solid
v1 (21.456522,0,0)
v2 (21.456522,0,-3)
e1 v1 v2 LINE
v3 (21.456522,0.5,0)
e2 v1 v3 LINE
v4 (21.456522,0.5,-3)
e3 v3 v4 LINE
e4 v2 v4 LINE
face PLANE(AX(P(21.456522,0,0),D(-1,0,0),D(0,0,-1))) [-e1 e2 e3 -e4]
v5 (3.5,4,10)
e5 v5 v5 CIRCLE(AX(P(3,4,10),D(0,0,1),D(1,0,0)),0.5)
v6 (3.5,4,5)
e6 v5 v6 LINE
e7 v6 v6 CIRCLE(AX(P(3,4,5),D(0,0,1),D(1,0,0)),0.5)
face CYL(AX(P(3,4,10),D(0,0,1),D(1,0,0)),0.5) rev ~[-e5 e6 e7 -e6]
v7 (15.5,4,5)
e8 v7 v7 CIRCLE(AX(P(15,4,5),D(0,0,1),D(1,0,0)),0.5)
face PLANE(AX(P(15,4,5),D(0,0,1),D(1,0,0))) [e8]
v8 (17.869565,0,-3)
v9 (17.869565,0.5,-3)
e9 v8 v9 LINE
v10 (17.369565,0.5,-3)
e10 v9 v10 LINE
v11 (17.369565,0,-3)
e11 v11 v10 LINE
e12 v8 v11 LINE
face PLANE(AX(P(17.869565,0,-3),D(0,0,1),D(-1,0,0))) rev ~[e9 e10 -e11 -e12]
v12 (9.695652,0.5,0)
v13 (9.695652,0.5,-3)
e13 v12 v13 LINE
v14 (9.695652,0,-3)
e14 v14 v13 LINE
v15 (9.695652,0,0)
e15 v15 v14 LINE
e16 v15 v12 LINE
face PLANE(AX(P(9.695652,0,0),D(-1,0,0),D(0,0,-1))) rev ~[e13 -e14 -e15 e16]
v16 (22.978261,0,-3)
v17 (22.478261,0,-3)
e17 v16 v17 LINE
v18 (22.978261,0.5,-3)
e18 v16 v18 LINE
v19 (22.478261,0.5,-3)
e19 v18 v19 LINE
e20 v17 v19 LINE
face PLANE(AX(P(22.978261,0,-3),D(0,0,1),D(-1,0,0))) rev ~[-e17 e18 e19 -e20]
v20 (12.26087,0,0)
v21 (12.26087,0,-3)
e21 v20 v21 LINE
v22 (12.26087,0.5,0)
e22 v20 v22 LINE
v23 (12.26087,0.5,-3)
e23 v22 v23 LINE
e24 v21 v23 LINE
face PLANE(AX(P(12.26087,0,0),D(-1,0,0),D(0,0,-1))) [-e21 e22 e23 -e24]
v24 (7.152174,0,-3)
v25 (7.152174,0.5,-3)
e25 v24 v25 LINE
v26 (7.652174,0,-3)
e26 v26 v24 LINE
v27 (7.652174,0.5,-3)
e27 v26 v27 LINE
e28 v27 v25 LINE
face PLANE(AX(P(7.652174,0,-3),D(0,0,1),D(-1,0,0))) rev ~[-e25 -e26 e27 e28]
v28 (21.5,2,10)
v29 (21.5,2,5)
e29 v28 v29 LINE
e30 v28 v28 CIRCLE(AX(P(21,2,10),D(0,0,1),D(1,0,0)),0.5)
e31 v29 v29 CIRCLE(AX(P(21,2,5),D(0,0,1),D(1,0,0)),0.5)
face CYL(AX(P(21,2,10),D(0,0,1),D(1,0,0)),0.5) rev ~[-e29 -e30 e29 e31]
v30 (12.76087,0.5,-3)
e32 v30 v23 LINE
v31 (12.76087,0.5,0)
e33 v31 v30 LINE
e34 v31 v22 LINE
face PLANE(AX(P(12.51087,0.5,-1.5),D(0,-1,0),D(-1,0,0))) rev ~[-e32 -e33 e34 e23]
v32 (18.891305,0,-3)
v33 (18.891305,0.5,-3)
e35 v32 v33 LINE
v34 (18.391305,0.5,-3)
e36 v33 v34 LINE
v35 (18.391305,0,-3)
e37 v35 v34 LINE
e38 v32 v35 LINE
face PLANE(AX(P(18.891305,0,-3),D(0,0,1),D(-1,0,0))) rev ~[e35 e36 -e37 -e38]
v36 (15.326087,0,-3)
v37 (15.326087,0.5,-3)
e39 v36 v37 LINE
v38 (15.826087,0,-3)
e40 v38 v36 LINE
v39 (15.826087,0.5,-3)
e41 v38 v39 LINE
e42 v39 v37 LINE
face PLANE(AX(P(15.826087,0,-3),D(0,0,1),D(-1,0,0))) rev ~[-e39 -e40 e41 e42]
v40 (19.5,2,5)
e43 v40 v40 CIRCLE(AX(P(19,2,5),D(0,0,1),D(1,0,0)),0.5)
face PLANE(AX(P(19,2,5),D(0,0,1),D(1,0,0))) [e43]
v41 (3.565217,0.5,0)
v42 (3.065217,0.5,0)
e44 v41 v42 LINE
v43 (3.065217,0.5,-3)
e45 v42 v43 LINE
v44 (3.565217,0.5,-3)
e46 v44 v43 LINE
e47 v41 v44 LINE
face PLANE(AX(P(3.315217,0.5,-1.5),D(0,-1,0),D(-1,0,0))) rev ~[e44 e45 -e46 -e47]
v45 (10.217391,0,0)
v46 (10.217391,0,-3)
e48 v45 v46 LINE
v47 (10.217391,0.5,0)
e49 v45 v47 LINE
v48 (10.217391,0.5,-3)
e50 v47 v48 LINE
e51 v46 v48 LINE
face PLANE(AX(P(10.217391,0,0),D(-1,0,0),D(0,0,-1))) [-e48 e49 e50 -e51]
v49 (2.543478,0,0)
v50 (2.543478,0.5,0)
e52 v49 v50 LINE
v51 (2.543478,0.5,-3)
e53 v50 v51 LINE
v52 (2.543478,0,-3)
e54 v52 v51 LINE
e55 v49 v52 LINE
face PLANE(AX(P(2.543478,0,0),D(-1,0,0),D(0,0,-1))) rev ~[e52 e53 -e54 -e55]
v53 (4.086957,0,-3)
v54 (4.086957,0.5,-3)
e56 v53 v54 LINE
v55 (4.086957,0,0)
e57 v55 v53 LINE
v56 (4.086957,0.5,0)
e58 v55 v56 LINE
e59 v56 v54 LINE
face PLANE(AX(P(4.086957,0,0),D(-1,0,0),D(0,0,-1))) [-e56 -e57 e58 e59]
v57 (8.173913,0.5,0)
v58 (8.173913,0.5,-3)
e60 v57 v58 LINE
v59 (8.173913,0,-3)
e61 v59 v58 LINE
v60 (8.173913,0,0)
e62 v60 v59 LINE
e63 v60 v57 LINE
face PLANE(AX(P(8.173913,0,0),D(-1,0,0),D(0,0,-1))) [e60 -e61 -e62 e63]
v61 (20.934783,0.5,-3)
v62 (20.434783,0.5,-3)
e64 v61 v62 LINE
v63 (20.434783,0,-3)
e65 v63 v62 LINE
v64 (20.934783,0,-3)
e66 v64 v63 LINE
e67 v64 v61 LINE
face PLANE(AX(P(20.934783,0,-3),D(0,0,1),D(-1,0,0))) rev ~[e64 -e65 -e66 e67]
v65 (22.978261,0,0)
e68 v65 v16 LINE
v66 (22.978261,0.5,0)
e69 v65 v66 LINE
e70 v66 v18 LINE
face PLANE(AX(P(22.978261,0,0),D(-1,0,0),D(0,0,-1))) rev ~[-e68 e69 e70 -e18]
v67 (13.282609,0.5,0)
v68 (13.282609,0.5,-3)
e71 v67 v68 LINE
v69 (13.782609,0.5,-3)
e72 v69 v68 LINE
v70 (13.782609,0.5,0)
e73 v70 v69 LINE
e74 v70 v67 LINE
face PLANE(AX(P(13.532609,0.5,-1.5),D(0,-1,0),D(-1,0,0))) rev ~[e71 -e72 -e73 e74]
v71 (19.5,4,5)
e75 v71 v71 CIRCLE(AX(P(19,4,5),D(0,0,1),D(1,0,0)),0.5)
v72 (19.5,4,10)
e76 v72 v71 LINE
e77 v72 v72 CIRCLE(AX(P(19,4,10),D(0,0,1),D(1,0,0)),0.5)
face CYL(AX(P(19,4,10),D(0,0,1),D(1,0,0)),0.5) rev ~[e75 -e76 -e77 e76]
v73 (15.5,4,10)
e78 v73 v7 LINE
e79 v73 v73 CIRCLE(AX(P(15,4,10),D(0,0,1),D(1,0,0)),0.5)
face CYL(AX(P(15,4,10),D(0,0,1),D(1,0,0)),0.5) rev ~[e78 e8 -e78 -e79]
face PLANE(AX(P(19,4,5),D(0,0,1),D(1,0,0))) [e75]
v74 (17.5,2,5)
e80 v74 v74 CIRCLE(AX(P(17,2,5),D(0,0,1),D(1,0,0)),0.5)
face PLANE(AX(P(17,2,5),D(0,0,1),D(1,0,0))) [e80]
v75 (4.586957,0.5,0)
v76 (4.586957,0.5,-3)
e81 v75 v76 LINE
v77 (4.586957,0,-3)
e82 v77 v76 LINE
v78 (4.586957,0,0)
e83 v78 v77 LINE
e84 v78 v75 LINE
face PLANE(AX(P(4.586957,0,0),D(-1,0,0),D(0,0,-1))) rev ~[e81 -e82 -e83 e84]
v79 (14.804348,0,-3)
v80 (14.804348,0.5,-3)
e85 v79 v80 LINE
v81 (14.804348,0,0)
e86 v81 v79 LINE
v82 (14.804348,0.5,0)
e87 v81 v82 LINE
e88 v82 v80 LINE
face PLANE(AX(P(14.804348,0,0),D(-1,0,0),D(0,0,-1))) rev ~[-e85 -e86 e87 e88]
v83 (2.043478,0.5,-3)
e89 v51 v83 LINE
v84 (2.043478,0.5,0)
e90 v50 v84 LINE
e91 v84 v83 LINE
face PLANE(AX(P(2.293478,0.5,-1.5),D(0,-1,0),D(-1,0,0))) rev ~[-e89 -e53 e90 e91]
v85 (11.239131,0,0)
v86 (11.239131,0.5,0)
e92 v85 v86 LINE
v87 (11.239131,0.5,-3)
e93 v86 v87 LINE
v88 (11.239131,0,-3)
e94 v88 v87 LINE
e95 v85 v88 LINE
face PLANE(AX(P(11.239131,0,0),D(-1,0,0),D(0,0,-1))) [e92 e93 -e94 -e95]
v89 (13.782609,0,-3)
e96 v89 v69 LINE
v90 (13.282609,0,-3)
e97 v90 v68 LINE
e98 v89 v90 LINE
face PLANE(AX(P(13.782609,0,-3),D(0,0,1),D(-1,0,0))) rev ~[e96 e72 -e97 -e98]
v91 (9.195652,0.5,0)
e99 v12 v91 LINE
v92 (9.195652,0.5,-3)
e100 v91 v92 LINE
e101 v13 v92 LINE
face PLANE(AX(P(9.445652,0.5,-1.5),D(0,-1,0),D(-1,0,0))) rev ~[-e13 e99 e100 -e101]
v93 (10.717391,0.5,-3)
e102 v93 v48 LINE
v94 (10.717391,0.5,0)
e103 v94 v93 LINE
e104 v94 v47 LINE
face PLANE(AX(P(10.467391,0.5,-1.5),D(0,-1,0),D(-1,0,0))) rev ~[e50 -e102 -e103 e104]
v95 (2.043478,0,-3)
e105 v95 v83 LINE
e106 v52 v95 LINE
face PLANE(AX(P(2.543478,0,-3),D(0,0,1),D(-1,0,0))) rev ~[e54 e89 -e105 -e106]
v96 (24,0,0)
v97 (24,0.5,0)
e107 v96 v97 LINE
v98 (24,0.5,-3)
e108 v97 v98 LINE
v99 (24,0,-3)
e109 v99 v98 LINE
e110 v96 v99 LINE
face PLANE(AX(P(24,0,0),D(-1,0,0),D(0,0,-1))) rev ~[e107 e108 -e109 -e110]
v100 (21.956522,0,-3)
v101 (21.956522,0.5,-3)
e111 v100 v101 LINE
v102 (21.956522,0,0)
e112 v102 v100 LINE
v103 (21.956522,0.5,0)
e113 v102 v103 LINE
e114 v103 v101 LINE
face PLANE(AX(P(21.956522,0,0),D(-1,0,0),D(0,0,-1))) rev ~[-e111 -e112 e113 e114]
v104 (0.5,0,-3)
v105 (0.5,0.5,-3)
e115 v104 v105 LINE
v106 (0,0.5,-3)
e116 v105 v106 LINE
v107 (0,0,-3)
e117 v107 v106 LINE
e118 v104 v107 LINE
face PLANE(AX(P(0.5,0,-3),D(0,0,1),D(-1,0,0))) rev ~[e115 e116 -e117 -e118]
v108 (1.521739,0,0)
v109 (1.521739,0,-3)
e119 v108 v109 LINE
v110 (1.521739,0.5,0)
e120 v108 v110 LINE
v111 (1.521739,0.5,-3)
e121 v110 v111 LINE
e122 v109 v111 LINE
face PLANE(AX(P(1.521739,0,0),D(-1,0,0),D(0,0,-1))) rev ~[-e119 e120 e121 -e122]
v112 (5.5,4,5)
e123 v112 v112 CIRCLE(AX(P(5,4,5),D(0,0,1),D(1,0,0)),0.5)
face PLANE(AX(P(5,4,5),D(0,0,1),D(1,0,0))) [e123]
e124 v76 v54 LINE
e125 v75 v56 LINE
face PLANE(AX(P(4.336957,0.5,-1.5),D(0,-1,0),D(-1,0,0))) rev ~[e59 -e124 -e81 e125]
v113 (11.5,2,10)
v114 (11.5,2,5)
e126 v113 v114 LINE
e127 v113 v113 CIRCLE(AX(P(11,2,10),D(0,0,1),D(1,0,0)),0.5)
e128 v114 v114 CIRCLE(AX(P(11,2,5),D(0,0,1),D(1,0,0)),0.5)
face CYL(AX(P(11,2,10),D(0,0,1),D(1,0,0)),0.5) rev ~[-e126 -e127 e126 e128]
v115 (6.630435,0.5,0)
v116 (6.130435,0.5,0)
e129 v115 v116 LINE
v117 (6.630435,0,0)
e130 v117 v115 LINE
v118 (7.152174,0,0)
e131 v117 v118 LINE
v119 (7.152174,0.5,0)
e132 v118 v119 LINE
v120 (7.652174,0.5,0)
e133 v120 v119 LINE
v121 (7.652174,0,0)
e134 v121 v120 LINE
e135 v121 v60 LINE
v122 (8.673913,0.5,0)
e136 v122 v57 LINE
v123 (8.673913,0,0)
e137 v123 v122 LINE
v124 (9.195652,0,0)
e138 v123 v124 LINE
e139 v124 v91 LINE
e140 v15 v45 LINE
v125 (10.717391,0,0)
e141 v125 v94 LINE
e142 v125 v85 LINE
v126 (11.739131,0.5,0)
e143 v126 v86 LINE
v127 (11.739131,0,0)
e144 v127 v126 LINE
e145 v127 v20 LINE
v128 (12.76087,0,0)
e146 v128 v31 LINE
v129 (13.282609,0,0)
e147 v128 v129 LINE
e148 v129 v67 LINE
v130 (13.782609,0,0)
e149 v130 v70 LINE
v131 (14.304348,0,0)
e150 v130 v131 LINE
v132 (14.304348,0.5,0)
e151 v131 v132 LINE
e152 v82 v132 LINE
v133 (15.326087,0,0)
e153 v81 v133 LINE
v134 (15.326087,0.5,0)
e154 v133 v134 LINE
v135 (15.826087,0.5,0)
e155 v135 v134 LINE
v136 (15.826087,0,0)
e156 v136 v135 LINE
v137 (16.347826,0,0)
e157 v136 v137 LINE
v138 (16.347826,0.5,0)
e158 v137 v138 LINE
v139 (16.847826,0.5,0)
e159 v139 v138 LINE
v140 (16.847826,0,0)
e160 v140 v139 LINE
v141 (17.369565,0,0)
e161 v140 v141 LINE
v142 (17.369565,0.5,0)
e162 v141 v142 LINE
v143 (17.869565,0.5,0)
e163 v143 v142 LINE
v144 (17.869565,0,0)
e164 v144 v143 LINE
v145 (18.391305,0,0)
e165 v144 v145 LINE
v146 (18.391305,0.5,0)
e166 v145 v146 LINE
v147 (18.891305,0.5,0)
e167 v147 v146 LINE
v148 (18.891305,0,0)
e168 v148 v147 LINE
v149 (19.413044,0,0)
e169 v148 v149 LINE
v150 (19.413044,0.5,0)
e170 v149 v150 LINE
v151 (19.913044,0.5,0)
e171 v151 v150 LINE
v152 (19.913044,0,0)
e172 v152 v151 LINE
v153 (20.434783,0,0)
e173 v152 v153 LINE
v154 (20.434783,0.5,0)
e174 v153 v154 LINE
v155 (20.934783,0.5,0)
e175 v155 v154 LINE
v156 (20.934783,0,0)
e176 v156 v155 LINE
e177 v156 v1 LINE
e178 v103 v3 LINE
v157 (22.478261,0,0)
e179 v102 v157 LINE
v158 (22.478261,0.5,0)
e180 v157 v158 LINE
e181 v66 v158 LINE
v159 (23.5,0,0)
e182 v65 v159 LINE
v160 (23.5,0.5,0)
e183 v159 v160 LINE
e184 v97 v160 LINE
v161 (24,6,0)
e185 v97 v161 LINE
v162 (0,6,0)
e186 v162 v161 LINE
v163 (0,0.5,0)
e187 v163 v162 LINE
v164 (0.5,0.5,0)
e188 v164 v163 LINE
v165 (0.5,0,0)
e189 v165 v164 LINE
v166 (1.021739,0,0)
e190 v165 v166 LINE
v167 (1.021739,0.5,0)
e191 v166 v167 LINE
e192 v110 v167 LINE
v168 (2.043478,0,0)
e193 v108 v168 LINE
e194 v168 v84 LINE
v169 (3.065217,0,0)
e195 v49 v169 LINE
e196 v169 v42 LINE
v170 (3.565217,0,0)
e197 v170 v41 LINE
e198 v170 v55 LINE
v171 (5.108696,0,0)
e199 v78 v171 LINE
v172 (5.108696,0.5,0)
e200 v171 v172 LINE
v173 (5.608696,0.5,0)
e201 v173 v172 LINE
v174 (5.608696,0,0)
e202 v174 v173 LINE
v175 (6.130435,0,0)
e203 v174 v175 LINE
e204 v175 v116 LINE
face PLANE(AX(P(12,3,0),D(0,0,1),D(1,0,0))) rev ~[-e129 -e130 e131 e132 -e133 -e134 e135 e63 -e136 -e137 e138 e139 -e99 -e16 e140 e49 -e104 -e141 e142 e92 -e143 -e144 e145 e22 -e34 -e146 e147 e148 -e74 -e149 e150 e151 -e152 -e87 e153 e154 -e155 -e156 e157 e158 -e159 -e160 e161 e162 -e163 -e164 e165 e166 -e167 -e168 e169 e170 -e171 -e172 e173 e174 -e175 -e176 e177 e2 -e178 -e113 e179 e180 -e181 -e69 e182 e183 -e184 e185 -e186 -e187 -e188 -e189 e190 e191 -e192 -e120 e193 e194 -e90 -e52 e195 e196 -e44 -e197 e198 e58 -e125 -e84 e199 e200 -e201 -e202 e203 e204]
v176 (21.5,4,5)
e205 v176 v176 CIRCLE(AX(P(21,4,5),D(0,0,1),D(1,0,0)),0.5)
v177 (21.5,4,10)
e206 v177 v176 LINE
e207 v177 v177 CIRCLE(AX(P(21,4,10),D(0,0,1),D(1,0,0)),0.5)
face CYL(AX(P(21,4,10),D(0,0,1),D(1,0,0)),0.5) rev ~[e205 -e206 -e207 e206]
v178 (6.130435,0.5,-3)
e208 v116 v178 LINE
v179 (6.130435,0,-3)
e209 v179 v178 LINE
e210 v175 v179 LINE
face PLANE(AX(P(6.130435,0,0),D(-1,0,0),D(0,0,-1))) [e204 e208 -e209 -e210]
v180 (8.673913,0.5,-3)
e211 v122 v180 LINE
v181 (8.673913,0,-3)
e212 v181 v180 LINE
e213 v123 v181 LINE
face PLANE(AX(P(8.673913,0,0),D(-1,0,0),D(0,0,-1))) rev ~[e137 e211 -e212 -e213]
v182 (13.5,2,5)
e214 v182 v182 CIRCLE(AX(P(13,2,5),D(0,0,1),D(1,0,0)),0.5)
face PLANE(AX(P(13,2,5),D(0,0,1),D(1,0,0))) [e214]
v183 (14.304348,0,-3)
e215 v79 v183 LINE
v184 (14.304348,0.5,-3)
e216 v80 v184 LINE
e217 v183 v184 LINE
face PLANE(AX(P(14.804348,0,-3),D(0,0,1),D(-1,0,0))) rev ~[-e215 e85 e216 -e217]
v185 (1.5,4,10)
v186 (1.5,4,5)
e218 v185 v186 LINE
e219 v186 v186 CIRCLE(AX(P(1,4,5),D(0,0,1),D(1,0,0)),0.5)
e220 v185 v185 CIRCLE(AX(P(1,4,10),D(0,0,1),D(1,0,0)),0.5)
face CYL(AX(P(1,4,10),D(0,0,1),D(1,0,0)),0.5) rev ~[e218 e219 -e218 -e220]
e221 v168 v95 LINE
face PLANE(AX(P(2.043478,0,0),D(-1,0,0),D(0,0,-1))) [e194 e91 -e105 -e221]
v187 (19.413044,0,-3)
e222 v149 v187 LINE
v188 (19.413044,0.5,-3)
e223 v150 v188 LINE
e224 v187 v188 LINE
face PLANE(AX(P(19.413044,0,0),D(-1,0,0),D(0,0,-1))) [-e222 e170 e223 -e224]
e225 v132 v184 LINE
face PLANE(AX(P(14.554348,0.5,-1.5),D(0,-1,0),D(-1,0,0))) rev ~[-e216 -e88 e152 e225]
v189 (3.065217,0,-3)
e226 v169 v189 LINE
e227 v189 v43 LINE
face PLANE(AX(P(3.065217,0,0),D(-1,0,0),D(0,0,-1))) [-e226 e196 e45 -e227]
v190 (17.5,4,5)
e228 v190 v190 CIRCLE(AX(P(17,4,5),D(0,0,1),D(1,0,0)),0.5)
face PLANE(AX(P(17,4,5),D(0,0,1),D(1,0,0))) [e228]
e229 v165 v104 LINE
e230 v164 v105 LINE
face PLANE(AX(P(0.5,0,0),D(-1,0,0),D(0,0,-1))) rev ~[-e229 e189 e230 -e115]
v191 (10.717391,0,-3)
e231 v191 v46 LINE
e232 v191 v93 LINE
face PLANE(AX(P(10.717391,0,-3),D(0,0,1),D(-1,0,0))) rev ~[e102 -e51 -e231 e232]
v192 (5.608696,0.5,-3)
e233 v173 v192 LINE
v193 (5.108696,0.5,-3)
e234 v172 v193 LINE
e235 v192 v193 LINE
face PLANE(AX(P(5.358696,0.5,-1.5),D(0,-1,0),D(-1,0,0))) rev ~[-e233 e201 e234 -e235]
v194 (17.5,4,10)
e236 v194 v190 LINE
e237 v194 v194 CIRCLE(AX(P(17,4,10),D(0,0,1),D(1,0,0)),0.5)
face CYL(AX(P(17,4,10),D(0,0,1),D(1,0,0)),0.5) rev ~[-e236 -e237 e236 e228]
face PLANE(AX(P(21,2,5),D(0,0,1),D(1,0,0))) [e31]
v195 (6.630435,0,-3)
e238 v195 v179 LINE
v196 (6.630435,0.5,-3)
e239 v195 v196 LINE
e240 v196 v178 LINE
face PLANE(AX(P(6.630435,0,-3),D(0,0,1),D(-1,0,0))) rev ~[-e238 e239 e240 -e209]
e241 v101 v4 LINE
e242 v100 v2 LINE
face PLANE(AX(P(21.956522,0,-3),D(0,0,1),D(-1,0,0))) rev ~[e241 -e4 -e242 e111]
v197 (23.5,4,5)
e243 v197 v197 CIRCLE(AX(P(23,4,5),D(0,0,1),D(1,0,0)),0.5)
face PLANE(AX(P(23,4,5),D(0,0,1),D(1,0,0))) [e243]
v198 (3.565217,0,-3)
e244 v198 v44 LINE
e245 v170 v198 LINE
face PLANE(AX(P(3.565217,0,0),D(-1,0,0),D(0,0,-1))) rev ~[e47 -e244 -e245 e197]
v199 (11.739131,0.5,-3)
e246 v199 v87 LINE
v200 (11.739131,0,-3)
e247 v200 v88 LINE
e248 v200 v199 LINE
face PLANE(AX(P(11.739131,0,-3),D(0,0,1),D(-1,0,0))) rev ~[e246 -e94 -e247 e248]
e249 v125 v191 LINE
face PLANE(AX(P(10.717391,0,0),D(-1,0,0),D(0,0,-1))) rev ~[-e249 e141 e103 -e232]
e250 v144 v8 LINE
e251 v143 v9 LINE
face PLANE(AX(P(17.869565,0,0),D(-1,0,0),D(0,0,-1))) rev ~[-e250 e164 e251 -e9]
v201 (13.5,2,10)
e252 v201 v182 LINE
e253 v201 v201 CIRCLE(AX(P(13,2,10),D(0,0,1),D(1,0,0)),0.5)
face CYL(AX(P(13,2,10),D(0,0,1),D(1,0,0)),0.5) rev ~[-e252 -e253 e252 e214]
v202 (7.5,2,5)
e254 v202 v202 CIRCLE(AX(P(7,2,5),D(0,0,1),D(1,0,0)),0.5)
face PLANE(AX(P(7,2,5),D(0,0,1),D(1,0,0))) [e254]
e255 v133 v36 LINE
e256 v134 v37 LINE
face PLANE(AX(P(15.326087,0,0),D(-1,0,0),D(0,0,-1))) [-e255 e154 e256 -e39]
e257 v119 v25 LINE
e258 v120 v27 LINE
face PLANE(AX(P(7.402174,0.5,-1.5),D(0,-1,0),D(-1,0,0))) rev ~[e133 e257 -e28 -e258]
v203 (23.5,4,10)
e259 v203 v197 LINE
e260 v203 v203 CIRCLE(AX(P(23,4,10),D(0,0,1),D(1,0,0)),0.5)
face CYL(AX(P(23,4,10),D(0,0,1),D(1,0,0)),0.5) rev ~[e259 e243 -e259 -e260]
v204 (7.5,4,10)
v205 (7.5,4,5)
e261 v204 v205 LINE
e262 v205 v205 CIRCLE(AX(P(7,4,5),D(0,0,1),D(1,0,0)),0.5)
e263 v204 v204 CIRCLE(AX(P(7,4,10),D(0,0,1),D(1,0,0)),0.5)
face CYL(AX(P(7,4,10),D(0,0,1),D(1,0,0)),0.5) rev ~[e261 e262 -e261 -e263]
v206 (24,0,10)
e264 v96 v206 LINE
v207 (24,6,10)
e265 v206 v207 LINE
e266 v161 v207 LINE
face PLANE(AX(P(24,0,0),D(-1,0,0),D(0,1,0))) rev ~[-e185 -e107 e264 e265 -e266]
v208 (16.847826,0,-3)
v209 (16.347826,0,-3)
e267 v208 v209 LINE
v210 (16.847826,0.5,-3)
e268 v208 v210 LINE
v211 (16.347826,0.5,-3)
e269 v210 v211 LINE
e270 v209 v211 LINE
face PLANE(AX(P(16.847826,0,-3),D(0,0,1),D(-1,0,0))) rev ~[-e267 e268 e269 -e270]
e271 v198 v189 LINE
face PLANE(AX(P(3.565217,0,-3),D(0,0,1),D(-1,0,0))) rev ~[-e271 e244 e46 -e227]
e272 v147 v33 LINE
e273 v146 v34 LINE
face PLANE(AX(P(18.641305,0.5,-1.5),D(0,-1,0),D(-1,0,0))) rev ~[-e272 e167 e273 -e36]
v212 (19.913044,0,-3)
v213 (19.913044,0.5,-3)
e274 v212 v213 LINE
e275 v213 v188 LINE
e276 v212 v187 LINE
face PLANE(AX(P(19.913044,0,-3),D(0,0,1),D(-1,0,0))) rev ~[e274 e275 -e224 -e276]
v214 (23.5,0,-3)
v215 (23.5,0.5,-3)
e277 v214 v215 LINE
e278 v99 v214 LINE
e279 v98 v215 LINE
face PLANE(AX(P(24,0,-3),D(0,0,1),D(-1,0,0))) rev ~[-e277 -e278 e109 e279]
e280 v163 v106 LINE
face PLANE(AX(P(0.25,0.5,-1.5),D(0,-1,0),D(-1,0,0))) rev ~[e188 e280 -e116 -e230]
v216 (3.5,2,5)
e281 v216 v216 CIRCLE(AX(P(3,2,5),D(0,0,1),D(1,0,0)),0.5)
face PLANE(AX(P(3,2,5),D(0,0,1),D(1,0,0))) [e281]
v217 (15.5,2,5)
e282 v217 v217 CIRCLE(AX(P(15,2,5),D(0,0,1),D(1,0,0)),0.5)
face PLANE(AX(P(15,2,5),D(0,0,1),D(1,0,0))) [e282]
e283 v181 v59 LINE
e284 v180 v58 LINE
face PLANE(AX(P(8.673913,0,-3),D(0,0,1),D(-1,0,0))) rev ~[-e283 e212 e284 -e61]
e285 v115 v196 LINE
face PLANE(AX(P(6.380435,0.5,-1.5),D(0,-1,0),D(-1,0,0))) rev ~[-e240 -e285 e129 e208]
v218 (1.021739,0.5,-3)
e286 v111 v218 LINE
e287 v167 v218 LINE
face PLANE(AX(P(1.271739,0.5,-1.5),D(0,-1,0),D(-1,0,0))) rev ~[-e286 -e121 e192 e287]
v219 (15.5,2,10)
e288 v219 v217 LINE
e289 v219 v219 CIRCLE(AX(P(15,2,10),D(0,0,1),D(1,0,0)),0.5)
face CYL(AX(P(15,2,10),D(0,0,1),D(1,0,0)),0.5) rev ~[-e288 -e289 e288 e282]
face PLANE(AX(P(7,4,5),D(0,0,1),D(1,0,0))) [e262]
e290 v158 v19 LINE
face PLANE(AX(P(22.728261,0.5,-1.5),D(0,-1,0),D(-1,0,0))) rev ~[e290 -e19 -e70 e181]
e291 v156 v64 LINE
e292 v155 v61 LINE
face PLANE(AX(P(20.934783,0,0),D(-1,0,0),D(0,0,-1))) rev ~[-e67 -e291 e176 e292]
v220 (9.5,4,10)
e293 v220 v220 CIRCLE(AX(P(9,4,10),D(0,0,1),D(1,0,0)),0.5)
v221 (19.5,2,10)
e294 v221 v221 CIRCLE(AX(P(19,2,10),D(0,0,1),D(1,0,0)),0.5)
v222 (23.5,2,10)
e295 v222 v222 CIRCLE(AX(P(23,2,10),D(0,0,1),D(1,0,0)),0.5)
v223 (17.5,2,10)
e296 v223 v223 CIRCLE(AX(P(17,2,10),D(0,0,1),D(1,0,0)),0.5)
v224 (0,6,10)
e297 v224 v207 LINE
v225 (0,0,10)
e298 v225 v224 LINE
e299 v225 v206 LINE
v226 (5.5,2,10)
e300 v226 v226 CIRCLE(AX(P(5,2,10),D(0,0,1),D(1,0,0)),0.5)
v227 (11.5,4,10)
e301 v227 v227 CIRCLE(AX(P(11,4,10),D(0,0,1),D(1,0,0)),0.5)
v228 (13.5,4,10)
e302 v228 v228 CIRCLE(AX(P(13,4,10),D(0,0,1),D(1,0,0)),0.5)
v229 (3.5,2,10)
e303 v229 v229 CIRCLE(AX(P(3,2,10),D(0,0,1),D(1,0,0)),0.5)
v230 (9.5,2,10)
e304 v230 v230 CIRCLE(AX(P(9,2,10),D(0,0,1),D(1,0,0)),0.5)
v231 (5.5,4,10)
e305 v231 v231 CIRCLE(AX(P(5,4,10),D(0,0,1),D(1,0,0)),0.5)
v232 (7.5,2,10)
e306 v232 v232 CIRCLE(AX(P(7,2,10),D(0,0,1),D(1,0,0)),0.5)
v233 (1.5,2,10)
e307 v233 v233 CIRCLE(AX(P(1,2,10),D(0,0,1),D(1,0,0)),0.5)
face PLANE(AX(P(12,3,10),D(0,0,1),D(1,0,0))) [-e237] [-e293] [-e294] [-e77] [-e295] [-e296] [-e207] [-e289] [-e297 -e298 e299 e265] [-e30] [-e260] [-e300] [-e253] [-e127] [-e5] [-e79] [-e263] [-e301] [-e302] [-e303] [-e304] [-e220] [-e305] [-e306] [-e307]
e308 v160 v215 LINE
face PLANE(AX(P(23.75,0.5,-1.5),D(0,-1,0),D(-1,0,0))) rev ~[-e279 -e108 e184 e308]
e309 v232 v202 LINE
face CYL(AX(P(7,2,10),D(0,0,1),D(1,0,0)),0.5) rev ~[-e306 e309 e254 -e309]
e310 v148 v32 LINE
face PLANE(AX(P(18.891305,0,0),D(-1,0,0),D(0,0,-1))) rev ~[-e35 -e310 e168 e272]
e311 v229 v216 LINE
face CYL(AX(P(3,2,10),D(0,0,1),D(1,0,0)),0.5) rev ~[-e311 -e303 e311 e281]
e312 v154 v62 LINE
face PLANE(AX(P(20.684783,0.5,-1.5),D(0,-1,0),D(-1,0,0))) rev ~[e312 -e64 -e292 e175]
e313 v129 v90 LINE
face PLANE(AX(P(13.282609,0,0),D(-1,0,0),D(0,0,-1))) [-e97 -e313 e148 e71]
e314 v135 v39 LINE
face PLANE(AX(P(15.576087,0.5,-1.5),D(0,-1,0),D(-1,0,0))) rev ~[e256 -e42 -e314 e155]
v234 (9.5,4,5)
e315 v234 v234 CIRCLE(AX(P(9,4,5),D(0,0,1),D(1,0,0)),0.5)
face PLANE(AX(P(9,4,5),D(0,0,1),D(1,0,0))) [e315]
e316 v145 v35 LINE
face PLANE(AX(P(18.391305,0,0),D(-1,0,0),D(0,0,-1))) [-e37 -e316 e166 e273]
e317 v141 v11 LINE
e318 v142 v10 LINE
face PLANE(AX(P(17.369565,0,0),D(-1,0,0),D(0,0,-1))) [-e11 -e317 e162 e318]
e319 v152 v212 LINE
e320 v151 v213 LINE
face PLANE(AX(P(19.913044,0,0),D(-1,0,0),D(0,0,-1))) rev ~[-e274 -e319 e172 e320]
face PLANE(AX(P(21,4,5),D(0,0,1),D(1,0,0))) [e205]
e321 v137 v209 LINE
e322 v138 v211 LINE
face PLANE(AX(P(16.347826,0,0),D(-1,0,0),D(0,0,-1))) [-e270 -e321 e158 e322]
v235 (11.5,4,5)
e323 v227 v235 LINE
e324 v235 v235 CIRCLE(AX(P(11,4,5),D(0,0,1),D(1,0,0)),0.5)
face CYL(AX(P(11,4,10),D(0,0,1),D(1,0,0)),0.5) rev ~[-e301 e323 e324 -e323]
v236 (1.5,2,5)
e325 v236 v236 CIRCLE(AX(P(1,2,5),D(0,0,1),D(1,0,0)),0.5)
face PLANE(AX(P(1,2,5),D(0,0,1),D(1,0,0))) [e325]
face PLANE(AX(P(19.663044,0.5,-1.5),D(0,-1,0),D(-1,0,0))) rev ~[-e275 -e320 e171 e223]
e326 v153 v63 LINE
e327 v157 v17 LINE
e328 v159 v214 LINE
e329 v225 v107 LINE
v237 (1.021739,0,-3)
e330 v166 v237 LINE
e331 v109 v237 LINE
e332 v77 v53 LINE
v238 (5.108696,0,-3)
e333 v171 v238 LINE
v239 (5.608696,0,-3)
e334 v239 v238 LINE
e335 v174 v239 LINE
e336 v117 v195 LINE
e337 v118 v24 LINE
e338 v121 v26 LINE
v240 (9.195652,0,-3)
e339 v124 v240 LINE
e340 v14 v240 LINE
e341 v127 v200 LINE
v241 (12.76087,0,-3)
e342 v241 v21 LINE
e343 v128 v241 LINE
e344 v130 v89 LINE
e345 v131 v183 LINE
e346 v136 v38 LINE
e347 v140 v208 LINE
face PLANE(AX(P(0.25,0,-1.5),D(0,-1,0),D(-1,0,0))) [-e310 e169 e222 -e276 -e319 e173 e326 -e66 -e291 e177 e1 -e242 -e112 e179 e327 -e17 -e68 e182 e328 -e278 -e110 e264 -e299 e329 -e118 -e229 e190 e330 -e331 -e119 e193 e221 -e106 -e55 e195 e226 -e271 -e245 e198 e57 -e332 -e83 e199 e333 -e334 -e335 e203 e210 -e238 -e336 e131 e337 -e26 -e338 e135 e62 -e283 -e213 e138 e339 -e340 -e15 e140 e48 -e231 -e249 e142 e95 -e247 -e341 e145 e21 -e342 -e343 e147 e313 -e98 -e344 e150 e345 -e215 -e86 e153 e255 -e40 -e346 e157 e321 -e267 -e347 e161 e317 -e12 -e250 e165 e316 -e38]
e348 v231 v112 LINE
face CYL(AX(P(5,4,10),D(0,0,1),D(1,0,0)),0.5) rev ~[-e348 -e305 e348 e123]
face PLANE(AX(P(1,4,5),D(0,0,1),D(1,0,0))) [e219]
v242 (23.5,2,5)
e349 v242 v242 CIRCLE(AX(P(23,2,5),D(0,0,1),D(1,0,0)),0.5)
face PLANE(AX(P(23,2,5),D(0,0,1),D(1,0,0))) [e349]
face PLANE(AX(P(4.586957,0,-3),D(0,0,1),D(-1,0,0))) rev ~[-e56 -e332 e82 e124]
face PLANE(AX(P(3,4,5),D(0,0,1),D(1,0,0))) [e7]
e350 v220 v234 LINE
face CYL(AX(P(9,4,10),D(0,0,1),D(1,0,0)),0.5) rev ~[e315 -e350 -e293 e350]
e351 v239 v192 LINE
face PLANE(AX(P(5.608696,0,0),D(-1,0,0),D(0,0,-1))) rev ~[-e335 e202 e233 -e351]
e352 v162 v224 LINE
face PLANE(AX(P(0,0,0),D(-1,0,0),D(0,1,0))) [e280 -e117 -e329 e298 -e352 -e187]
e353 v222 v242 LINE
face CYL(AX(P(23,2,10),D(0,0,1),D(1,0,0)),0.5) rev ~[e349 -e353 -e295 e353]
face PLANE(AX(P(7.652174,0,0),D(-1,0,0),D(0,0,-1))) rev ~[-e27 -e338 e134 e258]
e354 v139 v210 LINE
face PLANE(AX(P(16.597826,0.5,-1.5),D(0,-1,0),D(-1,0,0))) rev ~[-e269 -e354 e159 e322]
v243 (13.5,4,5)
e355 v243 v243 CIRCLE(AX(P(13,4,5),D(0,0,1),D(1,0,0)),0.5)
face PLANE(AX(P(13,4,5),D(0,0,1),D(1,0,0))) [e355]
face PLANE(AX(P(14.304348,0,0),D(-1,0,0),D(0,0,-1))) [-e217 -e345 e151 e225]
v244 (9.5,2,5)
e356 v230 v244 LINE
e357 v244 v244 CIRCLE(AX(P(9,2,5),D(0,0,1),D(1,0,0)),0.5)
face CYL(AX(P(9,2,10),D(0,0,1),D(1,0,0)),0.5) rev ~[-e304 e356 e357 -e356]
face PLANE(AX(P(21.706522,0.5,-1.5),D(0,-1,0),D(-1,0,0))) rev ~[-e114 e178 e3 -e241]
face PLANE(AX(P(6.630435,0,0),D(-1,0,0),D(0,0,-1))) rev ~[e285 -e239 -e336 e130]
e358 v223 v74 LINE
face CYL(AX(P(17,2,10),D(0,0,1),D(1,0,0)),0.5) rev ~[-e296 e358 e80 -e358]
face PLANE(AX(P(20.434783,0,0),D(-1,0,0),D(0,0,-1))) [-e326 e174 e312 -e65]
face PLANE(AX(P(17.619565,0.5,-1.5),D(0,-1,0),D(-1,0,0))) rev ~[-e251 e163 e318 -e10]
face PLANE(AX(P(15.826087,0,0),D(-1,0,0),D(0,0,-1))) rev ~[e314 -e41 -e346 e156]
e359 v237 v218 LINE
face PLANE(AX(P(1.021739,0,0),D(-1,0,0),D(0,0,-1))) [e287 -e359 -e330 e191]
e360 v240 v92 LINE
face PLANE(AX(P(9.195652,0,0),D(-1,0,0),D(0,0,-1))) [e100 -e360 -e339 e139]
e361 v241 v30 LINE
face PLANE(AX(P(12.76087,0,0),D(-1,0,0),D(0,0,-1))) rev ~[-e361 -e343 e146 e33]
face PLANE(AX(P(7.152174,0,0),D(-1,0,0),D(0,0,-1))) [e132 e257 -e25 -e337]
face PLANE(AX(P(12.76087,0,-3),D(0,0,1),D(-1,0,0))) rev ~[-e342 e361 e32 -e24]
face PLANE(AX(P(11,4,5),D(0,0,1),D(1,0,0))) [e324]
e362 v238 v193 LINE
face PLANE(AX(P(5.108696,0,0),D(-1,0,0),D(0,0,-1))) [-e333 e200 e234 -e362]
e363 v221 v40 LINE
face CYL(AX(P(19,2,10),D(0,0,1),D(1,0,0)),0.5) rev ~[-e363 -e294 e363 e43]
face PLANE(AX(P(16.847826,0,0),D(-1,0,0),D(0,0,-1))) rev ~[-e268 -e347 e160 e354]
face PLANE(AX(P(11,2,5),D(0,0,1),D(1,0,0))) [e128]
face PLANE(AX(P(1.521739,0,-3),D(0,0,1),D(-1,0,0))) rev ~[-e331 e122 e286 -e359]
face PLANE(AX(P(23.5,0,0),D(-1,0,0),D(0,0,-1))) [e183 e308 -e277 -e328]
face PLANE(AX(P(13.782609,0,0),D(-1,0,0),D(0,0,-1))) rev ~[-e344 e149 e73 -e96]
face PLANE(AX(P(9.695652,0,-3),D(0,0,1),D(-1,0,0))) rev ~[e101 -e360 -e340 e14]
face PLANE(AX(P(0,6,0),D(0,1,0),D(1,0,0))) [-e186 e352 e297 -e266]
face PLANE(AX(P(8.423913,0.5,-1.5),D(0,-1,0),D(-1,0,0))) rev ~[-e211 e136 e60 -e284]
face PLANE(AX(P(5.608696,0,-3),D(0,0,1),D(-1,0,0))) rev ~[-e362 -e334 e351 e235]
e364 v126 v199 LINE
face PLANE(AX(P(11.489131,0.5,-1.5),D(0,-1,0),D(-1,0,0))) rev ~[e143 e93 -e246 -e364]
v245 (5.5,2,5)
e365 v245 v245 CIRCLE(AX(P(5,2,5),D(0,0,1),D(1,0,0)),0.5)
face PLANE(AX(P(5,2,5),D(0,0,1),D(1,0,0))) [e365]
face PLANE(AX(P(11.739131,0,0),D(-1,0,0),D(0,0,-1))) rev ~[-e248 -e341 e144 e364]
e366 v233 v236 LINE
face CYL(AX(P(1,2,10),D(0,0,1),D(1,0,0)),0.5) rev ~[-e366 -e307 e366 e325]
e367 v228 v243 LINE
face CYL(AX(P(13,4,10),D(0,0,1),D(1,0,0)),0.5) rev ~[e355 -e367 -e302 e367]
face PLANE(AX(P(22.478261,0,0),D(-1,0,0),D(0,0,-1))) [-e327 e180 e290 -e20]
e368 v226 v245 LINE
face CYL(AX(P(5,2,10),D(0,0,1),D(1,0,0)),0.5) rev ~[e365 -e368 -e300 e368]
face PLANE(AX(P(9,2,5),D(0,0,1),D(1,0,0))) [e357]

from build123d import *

# Parameters (mm, degrees)
SKETCH2_W           = 24
SKETCH2_H           = 6
BOSS_EXTRUDE1_DEPTH = 10
SKETCH3_R           = 0.5
CUT_EXTRUDE1_DEPTH  = 5
SKETCH4_W           = 0.5
SKETCH4_H           = 3
BOSS_EXTRUDE2_DEPTH = 0.5


with BuildPart() as part:
    # Sketch2 → Boss-Extrude1 (new body)
    with BuildSketch(Plane.XY):
        with Locations((12, 3)):
            Rectangle(SKETCH2_W, SKETCH2_H)
    extrude(amount=BOSS_EXTRUDE1_DEPTH)

    # Sketch3 → Cut-Extrude1 (cut)
    with BuildSketch(Plane.XY.offset(10)):
        with Locations((1, 2)):
            Circle(SKETCH3_R)
        with Locations((3, 2)):
            Circle(SKETCH3_R)
        with Locations((5, 2)):
            Circle(SKETCH3_R)
        with Locations((7, 2)):
            Circle(SKETCH3_R)
        with Locations((9, 2)):
            Circle(SKETCH3_R)
        with Locations((11, 2)):
            Circle(SKETCH3_R)
        with Locations((13, 2)):
            Circle(SKETCH3_R)
        with Locations((15, 2)):
            Circle(SKETCH3_R)
        with Locations((17, 2)):
            Circle(SKETCH3_R)
        with Locations((19, 2)):
            Circle(SKETCH3_R)
        with Locations((21, 2)):
            Circle(SKETCH3_R)
        with Locations((23, 2)):
            Circle(SKETCH3_R)
        with Locations((23, 4)):
            Circle(SKETCH3_R)
        with Locations((21, 4)):
            Circle(SKETCH3_R)
        with Locations((19, 4)):
            Circle(SKETCH3_R)
        with Locations((17, 4)):
            Circle(SKETCH3_R)
        with Locations((15, 4)):
            Circle(SKETCH3_R)
        with Locations((13, 4)):
            Circle(SKETCH3_R)
        with Locations((11, 4)):
            Circle(SKETCH3_R)
        with Locations((9, 4)):
            Circle(SKETCH3_R)
        with Locations((7, 4)):
            Circle(SKETCH3_R)
        with Locations((5, 4)):
            Circle(SKETCH3_R)
        with Locations((3, 4)):
            Circle(SKETCH3_R)
        with Locations((1, 4)):
            Circle(SKETCH3_R)
    extrude(amount=-CUT_EXTRUDE1_DEPTH, mode=Mode.SUBTRACT)

    # Sketch4 → Boss-Extrude2 (add)
    with BuildSketch(Plane(origin=(0, 0, 0), x_dir=(-1, 0, 0), z_dir=(0, -1, 0))):
        with Locations((-0.25, 1.5)):
            Rectangle(SKETCH4_W, SKETCH4_H)
        with Locations((-1.27173914, 1.5)):
            Rectangle(SKETCH4_W, SKETCH4_H)
        with Locations((-2.29347828, 1.5)):
            Rectangle(SKETCH4_W, SKETCH4_H)
        with Locations((-3.31521742, 1.5)):
            Rectangle(SKETCH4_W, SKETCH4_H)
        with Locations((-4.33695656, 1.5)):
            Rectangle(SKETCH4_W, SKETCH4_H)
        with Locations((-5.3586957, 1.5)):
            Rectangle(SKETCH4_W, SKETCH4_H)
        with Locations((-6.38043484, 1.5)):
            Rectangle(SKETCH4_W, SKETCH4_H)
        with Locations((-7.40217398, 1.5)):
            Rectangle(SKETCH4_W, SKETCH4_H)
        with Locations((-8.42391312, 1.5)):
            Rectangle(SKETCH4_W, SKETCH4_H)
        with Locations((-9.44565226, 1.5)):
            Rectangle(SKETCH4_W, SKETCH4_H)
        with Locations((-10.4673914, 1.5)):
            Rectangle(SKETCH4_W, SKETCH4_H)
        with Locations((-11.48913054, 1.5)):
            Rectangle(SKETCH4_W, SKETCH4_H)
        with Locations((-12.51086968, 1.5)):
            Rectangle(SKETCH4_W, SKETCH4_H)
        with Locations((-13.53260882, 1.5)):
            Rectangle(SKETCH4_W, SKETCH4_H)
        with Locations((-14.55434796, 1.5)):
            Rectangle(SKETCH4_W, SKETCH4_H)
        with Locations((-15.5760871, 1.5)):
            Rectangle(SKETCH4_W, SKETCH4_H)
        with Locations((-16.59782624, 1.5)):
            Rectangle(SKETCH4_W, SKETCH4_H)
        with Locations((-17.61956538, 1.5)):
            Rectangle(SKETCH4_W, SKETCH4_H)
        with Locations((-18.64130452, 1.5)):
            Rectangle(SKETCH4_W, SKETCH4_H)
        with Locations((-19.66304366, 1.5)):
            Rectangle(SKETCH4_W, SKETCH4_H)
        with Locations((-20.6847828, 1.5)):
            Rectangle(SKETCH4_W, SKETCH4_H)
        with Locations((-21.70652194, 1.5)):
            Rectangle(SKETCH4_W, SKETCH4_H)
        with Locations((-22.72826108, 1.5)):
            Rectangle(SKETCH4_W, SKETCH4_H)
        with Locations((-23.75000022, 1.5)):
            Rectangle(SKETCH4_W, SKETCH4_H)
    extrude(amount=-BOSS_EXTRUDE2_DEPTH)


solid = part.part
